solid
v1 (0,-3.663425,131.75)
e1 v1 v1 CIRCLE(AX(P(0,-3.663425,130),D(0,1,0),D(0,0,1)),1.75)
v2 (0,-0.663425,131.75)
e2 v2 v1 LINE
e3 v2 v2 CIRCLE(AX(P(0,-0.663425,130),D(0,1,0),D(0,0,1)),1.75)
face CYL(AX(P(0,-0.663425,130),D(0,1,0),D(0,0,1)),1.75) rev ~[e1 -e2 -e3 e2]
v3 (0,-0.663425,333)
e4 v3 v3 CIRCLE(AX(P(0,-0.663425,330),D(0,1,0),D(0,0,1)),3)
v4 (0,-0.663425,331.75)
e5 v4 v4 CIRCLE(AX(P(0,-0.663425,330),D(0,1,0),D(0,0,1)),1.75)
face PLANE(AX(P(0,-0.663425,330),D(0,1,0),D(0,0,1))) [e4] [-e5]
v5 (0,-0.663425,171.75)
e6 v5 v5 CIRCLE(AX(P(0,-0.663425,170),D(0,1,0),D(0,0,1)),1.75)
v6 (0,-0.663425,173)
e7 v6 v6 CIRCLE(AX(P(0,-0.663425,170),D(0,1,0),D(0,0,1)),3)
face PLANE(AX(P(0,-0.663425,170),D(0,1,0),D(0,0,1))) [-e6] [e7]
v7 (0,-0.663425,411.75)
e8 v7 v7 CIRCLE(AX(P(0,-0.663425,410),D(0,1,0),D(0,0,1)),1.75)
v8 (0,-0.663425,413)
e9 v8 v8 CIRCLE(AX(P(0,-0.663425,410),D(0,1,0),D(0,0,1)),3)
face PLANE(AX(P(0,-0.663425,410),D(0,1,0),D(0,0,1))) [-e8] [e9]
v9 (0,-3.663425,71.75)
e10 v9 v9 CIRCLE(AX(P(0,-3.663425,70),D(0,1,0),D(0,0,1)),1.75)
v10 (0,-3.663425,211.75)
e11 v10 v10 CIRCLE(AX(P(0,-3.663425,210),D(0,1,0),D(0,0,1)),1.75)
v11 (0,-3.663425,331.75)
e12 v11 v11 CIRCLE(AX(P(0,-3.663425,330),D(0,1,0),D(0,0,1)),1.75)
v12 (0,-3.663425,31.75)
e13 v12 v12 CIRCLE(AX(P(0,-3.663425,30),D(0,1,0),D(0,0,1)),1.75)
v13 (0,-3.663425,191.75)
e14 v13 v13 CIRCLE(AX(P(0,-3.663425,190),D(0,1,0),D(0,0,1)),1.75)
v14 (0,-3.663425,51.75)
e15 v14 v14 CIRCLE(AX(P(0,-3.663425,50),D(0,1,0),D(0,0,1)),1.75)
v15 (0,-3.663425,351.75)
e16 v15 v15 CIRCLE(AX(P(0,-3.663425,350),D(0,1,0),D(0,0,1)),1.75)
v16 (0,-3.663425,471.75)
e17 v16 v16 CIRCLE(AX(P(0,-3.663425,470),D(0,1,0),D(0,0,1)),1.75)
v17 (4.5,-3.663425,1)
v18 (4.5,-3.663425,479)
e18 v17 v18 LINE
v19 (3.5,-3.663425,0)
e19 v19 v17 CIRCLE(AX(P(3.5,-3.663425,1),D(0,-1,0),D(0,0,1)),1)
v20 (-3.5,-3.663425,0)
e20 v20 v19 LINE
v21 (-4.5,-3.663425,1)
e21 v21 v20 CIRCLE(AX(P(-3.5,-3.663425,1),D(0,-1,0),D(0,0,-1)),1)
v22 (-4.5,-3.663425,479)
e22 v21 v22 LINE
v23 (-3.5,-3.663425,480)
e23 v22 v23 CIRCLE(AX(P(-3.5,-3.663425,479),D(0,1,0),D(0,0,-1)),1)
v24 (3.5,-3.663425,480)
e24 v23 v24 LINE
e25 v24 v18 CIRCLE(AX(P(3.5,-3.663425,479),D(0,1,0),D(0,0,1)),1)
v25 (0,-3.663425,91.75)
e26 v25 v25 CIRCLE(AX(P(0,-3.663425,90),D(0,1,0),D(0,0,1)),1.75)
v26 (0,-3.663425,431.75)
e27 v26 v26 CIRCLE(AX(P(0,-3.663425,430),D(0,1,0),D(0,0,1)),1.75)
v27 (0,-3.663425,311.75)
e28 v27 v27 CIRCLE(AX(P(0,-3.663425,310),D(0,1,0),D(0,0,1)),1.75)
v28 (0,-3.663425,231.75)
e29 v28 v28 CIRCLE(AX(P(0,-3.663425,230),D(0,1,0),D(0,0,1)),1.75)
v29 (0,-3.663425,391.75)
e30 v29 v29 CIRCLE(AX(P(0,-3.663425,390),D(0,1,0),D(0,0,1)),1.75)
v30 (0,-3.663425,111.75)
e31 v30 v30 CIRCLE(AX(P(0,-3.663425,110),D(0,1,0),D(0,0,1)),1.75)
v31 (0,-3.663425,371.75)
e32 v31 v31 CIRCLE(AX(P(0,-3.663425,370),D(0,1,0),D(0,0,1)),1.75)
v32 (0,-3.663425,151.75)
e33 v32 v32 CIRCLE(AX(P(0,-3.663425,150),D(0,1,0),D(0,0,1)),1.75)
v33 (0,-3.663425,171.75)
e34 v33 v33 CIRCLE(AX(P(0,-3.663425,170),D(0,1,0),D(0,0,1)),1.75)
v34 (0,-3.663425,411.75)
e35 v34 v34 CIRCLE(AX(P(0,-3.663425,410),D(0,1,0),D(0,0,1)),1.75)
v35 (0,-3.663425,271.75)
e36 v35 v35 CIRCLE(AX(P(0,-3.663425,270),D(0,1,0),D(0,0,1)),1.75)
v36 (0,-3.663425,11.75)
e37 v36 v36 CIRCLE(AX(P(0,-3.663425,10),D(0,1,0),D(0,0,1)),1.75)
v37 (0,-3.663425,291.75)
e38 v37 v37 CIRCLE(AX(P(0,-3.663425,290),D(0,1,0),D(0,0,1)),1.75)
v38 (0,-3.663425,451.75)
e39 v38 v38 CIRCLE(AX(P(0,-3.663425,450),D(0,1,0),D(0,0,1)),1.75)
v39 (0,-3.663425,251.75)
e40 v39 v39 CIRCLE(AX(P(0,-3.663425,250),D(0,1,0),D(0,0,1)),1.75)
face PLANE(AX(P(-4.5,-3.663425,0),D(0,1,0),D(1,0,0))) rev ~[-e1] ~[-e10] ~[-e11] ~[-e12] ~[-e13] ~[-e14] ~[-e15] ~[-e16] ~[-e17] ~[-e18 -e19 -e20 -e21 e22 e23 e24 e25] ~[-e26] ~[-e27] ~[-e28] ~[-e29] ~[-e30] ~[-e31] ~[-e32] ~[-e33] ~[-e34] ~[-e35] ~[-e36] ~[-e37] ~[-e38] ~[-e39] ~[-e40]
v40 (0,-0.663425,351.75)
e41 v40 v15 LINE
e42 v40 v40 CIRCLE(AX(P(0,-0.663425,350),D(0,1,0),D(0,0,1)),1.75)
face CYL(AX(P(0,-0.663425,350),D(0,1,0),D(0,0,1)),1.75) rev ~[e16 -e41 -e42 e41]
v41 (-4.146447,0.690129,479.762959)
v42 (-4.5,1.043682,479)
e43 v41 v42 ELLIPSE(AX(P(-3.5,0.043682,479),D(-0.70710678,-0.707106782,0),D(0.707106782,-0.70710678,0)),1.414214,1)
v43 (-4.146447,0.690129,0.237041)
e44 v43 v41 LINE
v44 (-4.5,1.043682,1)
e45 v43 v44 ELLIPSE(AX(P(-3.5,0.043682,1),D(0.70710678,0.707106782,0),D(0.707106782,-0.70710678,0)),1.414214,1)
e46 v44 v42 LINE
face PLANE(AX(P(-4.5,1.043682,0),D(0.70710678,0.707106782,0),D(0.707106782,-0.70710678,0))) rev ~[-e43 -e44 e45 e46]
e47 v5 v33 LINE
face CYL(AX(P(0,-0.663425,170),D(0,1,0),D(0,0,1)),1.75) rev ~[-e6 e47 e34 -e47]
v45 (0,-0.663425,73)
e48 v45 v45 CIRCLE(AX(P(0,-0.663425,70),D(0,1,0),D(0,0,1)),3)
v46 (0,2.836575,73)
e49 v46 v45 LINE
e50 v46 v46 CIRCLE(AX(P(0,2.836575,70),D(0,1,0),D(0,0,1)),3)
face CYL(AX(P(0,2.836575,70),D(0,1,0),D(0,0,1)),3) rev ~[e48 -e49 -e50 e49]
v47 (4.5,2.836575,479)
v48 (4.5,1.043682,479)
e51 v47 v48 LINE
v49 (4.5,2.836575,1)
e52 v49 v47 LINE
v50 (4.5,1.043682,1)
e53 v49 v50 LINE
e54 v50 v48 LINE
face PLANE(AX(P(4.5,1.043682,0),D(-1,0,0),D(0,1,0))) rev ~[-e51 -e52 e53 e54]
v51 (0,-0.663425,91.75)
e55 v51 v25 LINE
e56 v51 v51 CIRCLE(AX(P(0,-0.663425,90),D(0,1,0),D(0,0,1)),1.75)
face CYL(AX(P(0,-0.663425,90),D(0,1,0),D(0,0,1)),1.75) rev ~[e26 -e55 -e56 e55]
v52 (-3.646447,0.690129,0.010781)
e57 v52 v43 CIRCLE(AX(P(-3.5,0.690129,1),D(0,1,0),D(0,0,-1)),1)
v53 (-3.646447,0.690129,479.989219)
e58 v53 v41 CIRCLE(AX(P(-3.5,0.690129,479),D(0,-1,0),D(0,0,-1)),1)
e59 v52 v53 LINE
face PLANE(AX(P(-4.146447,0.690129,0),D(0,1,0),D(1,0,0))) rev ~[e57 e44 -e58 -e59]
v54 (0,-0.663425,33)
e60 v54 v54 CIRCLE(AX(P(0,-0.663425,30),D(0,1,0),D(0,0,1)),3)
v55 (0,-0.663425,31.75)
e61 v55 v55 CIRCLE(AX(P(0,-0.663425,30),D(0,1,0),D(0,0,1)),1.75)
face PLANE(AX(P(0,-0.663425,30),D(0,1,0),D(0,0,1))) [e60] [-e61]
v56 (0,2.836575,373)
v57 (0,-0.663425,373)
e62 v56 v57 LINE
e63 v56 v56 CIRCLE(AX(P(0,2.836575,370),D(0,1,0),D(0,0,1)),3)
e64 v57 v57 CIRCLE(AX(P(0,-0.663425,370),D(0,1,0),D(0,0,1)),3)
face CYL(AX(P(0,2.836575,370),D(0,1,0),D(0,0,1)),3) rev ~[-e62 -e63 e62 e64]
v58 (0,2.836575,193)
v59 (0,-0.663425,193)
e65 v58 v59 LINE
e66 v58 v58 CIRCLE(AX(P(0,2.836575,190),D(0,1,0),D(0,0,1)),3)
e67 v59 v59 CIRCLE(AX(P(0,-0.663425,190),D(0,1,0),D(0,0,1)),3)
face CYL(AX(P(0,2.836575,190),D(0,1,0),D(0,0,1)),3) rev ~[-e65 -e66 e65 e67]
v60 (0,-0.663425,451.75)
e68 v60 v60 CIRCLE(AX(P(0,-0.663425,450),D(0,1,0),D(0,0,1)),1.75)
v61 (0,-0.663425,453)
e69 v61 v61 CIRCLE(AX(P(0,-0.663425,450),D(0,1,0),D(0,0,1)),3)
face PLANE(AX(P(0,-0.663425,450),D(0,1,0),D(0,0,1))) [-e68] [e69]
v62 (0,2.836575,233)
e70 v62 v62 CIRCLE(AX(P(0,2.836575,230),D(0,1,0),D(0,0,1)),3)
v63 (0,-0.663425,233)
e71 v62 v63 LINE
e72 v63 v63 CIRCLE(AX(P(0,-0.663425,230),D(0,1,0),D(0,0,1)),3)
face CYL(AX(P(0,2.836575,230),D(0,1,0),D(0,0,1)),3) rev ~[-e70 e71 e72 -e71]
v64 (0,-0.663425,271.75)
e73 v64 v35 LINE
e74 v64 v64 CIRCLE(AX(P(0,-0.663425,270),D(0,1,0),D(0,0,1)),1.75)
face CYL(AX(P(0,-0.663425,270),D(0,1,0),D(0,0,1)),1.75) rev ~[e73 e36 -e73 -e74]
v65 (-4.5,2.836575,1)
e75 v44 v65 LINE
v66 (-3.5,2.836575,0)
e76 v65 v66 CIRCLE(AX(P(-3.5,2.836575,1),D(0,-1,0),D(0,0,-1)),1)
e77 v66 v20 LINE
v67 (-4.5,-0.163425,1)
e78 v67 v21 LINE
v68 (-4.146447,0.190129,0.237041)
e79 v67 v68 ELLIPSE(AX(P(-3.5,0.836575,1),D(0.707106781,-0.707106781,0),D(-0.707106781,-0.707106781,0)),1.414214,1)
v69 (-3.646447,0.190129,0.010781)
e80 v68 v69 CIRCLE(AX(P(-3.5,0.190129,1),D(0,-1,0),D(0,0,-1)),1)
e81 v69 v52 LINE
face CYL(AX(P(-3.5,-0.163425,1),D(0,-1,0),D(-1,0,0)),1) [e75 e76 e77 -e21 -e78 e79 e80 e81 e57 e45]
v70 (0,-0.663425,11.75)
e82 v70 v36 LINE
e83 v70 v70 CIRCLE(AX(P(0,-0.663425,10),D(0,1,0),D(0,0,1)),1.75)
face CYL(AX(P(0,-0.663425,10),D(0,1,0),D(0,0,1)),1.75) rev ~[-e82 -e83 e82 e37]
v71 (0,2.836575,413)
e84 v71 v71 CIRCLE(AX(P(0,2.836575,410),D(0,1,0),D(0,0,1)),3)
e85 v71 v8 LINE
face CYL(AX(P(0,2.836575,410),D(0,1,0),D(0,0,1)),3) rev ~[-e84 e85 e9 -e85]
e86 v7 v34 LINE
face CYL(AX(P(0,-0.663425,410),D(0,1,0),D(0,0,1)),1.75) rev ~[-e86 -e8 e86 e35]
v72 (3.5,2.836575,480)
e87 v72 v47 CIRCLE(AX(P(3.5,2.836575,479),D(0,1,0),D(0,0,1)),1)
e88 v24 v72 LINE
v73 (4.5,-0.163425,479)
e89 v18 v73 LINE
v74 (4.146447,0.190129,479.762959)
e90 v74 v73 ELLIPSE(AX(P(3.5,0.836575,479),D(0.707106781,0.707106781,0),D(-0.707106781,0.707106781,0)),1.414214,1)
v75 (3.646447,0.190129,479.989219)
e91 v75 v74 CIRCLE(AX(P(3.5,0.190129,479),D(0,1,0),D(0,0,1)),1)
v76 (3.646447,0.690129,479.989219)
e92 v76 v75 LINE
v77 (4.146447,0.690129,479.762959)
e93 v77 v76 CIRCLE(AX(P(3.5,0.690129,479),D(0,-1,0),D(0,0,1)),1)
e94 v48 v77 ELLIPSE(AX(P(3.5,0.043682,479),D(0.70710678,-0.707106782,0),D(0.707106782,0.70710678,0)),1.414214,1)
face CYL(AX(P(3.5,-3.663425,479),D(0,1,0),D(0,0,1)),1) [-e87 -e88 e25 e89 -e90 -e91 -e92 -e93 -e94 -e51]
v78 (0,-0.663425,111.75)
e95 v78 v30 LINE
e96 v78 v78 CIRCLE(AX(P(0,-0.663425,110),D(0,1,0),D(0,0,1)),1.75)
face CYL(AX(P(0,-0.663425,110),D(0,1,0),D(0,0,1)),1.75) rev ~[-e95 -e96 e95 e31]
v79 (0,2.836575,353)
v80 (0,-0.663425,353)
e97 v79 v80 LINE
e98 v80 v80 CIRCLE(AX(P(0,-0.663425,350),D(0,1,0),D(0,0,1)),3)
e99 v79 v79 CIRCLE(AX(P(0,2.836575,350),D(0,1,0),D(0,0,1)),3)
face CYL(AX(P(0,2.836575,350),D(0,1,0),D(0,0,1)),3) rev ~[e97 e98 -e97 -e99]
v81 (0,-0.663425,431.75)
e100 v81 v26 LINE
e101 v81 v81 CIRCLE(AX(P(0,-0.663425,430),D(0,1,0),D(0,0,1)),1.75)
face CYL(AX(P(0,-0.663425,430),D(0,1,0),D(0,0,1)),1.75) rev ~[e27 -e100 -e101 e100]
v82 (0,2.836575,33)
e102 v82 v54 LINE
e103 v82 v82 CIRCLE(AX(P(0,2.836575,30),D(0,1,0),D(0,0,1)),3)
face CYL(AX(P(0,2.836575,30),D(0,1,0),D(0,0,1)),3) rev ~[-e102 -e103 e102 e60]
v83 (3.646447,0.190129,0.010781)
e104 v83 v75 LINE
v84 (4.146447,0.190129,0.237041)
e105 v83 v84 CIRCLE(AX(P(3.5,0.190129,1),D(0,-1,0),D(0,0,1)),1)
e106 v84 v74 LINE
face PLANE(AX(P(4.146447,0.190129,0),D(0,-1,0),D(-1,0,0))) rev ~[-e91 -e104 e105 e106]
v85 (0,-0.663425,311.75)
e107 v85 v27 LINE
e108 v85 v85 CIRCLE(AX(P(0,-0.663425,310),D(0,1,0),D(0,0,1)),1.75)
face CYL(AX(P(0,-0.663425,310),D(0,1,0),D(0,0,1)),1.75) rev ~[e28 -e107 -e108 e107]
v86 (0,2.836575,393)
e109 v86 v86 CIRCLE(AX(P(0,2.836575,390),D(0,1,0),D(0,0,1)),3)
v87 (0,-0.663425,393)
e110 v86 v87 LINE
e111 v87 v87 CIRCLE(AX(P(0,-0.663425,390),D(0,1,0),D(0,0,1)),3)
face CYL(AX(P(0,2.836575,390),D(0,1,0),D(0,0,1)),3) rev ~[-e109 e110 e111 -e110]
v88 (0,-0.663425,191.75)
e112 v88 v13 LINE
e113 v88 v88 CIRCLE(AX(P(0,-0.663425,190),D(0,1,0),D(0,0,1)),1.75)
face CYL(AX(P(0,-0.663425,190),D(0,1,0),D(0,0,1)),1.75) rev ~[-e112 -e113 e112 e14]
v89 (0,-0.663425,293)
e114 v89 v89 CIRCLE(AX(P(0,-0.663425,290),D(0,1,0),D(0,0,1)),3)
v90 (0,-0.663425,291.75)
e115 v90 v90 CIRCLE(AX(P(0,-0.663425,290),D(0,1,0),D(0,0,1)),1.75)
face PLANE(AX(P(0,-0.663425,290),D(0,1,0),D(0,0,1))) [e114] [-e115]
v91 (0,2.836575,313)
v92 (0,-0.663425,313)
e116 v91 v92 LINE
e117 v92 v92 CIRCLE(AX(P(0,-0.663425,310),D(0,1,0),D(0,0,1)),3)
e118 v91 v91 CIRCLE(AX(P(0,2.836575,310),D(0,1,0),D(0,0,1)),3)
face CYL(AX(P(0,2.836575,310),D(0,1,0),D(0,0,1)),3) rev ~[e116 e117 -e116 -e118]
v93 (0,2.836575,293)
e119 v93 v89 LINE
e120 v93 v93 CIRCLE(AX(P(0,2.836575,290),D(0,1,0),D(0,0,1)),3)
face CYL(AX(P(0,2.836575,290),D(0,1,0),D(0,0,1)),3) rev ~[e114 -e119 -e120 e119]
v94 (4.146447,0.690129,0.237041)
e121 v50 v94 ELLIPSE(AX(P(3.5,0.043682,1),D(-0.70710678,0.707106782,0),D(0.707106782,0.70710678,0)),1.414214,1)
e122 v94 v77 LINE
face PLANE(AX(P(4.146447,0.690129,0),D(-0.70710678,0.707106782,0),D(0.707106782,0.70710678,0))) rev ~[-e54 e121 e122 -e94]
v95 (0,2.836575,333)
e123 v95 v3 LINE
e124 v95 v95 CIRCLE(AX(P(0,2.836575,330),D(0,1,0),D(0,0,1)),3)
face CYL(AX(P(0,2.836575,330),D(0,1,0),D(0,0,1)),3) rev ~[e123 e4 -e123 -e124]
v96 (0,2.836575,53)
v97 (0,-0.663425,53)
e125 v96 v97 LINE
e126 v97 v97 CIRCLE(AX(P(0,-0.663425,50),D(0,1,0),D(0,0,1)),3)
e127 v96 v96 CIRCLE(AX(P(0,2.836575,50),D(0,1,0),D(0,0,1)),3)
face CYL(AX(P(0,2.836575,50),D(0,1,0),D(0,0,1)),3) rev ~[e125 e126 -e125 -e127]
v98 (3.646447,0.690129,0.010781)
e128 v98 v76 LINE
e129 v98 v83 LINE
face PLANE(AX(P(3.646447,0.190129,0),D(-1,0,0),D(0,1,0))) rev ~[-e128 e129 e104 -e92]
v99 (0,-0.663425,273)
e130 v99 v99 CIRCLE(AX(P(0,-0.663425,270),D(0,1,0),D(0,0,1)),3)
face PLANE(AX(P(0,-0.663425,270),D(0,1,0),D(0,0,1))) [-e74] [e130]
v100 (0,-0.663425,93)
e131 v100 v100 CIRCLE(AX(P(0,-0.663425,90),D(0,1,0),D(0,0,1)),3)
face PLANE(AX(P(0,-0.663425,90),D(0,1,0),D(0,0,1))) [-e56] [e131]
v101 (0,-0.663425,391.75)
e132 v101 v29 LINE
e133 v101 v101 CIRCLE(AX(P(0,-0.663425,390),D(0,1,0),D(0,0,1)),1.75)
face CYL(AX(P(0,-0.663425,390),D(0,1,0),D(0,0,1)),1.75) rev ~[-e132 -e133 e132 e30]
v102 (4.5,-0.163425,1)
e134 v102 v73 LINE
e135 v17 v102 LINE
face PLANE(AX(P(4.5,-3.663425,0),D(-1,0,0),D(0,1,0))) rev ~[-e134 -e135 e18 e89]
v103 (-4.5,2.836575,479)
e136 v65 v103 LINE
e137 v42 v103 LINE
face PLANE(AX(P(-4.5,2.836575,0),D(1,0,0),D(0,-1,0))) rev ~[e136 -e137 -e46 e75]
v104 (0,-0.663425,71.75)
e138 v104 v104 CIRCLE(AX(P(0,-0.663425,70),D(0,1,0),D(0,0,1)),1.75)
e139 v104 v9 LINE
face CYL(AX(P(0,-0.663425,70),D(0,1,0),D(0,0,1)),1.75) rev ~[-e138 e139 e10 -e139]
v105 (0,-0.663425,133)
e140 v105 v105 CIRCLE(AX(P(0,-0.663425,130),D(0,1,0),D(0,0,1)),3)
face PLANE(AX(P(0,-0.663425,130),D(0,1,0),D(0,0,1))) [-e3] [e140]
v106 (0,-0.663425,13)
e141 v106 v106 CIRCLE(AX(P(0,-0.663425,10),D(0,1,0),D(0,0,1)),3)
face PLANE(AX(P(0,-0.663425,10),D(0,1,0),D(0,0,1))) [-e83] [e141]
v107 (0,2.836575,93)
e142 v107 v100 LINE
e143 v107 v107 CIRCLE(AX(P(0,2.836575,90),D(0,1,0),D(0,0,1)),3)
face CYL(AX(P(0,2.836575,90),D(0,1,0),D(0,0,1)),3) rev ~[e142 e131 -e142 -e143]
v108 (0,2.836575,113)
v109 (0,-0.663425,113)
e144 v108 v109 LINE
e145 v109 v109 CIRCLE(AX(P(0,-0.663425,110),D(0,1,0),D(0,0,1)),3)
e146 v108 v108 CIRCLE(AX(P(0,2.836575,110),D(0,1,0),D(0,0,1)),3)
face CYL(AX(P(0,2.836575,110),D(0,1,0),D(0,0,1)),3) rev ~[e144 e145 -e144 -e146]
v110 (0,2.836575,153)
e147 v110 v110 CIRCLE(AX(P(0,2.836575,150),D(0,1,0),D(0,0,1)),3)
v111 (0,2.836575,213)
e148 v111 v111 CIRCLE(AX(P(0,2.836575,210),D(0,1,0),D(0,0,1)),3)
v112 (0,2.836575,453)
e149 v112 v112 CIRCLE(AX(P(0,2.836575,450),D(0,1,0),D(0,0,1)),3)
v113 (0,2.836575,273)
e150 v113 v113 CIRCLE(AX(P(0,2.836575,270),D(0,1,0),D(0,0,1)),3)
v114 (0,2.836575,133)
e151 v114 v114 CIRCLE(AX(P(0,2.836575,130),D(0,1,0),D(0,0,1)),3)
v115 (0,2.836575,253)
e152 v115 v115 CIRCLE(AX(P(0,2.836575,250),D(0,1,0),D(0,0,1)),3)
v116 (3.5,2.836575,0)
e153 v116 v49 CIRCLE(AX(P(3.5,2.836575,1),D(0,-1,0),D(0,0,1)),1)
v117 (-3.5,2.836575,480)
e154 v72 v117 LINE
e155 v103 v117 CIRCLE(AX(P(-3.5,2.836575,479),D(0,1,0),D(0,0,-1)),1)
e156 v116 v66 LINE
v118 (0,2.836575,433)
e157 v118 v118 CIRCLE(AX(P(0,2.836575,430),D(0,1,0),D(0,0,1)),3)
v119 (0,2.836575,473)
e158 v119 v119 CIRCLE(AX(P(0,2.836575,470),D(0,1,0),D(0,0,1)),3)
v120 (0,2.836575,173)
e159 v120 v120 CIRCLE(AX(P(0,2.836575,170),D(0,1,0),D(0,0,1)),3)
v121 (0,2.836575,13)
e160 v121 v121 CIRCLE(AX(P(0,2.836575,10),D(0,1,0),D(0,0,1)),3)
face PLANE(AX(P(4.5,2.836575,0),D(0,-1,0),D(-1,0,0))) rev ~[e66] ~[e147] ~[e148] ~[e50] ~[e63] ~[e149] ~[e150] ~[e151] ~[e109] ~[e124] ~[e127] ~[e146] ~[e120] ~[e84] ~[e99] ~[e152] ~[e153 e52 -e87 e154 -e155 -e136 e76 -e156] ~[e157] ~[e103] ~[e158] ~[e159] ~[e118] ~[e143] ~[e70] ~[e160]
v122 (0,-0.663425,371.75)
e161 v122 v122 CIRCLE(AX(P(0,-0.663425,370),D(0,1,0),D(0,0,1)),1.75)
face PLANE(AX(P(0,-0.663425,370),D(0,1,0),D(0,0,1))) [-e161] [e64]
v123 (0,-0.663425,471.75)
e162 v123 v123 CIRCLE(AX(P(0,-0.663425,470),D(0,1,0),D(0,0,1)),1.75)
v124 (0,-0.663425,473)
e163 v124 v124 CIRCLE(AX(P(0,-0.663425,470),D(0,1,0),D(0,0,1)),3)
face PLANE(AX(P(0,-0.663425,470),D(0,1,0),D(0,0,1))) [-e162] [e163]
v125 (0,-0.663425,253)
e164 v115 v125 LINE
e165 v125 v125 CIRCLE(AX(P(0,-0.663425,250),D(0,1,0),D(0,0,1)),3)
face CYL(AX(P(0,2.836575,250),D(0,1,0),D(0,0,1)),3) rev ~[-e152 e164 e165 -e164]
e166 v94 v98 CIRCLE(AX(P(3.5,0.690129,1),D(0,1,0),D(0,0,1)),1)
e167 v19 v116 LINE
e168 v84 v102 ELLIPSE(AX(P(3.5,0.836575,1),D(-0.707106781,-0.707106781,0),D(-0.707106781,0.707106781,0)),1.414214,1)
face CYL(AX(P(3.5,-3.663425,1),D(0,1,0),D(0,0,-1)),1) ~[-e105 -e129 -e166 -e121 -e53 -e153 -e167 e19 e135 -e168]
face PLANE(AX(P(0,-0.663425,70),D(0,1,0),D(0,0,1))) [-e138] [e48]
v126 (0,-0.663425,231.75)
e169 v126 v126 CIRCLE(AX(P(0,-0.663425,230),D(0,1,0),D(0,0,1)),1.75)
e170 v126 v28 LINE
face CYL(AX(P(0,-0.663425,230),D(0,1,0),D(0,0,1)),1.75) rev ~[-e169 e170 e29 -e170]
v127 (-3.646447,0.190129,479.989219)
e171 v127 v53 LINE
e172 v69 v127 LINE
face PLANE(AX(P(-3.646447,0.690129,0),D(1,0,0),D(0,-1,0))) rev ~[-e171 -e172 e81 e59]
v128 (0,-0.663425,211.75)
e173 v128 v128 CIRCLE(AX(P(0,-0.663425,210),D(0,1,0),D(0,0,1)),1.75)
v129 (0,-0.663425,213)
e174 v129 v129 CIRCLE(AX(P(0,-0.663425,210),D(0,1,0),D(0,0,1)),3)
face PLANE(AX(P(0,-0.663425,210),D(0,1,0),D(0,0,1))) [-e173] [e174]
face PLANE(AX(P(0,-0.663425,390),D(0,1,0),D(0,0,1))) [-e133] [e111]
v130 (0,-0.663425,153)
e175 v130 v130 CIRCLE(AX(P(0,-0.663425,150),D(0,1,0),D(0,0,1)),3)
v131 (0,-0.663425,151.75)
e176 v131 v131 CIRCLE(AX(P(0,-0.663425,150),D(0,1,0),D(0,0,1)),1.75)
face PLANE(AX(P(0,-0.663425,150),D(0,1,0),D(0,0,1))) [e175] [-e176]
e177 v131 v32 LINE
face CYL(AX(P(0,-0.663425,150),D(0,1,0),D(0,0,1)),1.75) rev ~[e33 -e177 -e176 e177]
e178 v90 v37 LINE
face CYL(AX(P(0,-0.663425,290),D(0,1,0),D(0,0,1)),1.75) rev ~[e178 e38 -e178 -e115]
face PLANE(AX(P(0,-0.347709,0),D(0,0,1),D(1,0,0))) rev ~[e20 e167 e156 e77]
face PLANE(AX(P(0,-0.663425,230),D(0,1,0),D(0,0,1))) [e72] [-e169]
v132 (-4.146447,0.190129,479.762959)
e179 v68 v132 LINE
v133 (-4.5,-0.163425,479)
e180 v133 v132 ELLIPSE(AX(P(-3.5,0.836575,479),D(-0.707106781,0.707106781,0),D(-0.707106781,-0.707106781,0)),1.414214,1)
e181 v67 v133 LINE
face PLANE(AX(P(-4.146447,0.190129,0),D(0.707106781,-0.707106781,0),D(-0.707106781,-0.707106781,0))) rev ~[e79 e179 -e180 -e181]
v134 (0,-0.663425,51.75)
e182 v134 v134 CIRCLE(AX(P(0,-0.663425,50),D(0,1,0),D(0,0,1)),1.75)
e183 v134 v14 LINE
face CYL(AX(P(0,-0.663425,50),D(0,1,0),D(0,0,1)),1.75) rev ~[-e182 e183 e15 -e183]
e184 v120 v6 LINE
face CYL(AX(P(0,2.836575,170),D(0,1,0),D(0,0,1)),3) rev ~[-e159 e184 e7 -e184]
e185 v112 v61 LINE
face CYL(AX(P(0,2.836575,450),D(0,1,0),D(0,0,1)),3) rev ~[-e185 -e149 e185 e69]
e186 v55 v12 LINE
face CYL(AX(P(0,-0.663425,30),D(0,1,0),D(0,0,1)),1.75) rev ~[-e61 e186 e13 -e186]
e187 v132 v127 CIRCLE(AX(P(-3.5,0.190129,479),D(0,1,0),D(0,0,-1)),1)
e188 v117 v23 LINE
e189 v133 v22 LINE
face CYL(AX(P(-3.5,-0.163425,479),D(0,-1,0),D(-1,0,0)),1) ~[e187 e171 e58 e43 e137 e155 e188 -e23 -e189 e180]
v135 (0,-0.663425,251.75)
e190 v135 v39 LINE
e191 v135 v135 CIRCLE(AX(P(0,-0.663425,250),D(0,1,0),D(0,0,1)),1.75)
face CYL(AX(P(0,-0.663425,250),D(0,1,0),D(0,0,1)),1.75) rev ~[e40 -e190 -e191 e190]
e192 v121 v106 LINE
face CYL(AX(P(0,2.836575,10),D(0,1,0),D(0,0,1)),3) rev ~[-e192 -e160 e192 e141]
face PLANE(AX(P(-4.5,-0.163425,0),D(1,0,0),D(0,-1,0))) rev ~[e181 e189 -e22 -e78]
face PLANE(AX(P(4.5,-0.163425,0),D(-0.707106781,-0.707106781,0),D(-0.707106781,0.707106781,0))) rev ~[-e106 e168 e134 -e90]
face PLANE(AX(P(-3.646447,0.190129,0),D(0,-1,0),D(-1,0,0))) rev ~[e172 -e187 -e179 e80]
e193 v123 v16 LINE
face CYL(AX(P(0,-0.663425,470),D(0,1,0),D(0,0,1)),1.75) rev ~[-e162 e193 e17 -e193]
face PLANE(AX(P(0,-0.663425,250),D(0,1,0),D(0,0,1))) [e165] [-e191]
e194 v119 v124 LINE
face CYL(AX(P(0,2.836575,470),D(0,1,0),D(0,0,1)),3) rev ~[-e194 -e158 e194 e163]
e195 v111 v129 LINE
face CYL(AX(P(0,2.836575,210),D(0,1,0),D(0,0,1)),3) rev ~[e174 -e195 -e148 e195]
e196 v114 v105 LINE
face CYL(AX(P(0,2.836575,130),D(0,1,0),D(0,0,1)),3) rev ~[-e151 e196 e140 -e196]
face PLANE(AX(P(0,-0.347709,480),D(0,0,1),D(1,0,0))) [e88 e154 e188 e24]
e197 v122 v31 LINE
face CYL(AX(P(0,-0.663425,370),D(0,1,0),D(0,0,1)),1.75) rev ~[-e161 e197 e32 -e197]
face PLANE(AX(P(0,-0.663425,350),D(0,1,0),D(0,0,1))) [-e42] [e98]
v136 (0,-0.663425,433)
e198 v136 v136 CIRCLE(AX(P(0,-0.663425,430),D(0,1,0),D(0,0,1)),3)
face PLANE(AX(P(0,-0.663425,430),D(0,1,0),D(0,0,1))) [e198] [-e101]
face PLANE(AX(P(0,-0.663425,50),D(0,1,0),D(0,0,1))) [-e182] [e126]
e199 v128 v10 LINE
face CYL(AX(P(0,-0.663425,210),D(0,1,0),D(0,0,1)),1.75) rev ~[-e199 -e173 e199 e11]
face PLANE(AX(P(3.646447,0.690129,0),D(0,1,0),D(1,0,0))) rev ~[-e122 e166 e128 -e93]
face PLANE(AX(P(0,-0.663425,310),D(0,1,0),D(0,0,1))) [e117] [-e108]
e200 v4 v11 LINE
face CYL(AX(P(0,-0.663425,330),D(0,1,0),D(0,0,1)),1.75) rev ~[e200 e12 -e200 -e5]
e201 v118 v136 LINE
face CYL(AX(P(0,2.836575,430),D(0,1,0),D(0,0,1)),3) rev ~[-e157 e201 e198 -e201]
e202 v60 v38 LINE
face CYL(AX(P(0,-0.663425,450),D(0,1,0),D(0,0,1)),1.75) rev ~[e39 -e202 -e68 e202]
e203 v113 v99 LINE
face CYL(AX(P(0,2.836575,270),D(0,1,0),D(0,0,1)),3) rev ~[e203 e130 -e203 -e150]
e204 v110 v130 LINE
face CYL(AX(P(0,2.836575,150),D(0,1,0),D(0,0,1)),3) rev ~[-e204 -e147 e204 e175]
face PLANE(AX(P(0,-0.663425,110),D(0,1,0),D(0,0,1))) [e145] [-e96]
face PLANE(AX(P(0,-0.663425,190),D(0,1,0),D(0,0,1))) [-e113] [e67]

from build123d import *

# Parameters (mm, degrees)
EXTRUDE_1_DEPTH        = 480
SKETCH_2_R             = 3
CUT_EXTRUDE_1_DEPTH    = 3.5
SKETCH_3_R             = 1.75
CUT_EXTRUDE_2_DEPTH    = 481.033852973
PATTERN_LINEAR_1_COUNT = 30
PATTERN_LINEAR_1_PITCH = 20
FILLET_1_R             = 1


with BuildPart() as part:
    # 草图1 → 凸台-拉伸1 (new body)
    with BuildSketch(Plane.XY):
        Polygon((-4.5, -3.663424778), (4.5, -3.663424778), (4.5, -0.163424778), (4.146446609, 0.190128613), (3.646446609, 0.190128613), (3.646446609, 0.690128613), (4.146446609, 0.690128613), (4.5, 1.043682003), (4.5, 2.836575222), (-4.5, 2.836575222), (-4.5, 1.043682003), (-4.146446609, 0.690128613), (-3.646446609, 0.690128613), (-3.646446609, 0.190128613), (-4.146446609, 0.190128613), (-4.5, -0.163424778), align=None)
    extrude(amount=EXTRUDE_1_DEPTH)

    # 草图2 → 切除-拉伸1 (cut)
    with BuildSketch(Plane(origin=(0, 2.836575222, 0), x_dir=(1, 0, 0), z_dir=(0, 1, 0))):
        with Locations(Location((0, -470, 0), (0, 0, 270))):
            Circle(SKETCH_2_R)
    cut_extrude_1 = extrude(amount=-CUT_EXTRUDE_1_DEPTH, mode=Mode.SUBTRACT)

    # 草图3 → 切除-拉伸2 (cut, through all)
    with BuildSketch(Plane(origin=(0, -0.663424778, 0), x_dir=(1, 0, 0), z_dir=(0, 1, 0))):
        with Locations(Location((0, -470, 0), (0, 0, 270))):
            Circle(SKETCH_3_R)
    cut_extrude_2 = extrude(amount=-CUT_EXTRUDE_2_DEPTH, mode=Mode.SUBTRACT)

    # 阵列(线性)1: 切除-拉伸1, 切除-拉伸2 ×30
    with Locations(*[(0, 0, -i * PATTERN_LINEAR_1_PITCH) for i in range(1, PATTERN_LINEAR_1_COUNT)]):
        add(cut_extrude_1, mode=Mode.SUBTRACT)
        add(cut_extrude_2, mode=Mode.SUBTRACT)

    # 圆角1
    fillet_1_edges = [part.edges().sort_by_distance(p)[0] for p in [
        (4.5, -1.913424778, 0),
        (-4.5, -1.913424778, 0),
        (4.5, -1.913424778, 480),
        (-4.5, -1.913424778, 480),
    ]]
    fillet(fillet_1_edges, radius=FILLET_1_R)


solid = part.part
